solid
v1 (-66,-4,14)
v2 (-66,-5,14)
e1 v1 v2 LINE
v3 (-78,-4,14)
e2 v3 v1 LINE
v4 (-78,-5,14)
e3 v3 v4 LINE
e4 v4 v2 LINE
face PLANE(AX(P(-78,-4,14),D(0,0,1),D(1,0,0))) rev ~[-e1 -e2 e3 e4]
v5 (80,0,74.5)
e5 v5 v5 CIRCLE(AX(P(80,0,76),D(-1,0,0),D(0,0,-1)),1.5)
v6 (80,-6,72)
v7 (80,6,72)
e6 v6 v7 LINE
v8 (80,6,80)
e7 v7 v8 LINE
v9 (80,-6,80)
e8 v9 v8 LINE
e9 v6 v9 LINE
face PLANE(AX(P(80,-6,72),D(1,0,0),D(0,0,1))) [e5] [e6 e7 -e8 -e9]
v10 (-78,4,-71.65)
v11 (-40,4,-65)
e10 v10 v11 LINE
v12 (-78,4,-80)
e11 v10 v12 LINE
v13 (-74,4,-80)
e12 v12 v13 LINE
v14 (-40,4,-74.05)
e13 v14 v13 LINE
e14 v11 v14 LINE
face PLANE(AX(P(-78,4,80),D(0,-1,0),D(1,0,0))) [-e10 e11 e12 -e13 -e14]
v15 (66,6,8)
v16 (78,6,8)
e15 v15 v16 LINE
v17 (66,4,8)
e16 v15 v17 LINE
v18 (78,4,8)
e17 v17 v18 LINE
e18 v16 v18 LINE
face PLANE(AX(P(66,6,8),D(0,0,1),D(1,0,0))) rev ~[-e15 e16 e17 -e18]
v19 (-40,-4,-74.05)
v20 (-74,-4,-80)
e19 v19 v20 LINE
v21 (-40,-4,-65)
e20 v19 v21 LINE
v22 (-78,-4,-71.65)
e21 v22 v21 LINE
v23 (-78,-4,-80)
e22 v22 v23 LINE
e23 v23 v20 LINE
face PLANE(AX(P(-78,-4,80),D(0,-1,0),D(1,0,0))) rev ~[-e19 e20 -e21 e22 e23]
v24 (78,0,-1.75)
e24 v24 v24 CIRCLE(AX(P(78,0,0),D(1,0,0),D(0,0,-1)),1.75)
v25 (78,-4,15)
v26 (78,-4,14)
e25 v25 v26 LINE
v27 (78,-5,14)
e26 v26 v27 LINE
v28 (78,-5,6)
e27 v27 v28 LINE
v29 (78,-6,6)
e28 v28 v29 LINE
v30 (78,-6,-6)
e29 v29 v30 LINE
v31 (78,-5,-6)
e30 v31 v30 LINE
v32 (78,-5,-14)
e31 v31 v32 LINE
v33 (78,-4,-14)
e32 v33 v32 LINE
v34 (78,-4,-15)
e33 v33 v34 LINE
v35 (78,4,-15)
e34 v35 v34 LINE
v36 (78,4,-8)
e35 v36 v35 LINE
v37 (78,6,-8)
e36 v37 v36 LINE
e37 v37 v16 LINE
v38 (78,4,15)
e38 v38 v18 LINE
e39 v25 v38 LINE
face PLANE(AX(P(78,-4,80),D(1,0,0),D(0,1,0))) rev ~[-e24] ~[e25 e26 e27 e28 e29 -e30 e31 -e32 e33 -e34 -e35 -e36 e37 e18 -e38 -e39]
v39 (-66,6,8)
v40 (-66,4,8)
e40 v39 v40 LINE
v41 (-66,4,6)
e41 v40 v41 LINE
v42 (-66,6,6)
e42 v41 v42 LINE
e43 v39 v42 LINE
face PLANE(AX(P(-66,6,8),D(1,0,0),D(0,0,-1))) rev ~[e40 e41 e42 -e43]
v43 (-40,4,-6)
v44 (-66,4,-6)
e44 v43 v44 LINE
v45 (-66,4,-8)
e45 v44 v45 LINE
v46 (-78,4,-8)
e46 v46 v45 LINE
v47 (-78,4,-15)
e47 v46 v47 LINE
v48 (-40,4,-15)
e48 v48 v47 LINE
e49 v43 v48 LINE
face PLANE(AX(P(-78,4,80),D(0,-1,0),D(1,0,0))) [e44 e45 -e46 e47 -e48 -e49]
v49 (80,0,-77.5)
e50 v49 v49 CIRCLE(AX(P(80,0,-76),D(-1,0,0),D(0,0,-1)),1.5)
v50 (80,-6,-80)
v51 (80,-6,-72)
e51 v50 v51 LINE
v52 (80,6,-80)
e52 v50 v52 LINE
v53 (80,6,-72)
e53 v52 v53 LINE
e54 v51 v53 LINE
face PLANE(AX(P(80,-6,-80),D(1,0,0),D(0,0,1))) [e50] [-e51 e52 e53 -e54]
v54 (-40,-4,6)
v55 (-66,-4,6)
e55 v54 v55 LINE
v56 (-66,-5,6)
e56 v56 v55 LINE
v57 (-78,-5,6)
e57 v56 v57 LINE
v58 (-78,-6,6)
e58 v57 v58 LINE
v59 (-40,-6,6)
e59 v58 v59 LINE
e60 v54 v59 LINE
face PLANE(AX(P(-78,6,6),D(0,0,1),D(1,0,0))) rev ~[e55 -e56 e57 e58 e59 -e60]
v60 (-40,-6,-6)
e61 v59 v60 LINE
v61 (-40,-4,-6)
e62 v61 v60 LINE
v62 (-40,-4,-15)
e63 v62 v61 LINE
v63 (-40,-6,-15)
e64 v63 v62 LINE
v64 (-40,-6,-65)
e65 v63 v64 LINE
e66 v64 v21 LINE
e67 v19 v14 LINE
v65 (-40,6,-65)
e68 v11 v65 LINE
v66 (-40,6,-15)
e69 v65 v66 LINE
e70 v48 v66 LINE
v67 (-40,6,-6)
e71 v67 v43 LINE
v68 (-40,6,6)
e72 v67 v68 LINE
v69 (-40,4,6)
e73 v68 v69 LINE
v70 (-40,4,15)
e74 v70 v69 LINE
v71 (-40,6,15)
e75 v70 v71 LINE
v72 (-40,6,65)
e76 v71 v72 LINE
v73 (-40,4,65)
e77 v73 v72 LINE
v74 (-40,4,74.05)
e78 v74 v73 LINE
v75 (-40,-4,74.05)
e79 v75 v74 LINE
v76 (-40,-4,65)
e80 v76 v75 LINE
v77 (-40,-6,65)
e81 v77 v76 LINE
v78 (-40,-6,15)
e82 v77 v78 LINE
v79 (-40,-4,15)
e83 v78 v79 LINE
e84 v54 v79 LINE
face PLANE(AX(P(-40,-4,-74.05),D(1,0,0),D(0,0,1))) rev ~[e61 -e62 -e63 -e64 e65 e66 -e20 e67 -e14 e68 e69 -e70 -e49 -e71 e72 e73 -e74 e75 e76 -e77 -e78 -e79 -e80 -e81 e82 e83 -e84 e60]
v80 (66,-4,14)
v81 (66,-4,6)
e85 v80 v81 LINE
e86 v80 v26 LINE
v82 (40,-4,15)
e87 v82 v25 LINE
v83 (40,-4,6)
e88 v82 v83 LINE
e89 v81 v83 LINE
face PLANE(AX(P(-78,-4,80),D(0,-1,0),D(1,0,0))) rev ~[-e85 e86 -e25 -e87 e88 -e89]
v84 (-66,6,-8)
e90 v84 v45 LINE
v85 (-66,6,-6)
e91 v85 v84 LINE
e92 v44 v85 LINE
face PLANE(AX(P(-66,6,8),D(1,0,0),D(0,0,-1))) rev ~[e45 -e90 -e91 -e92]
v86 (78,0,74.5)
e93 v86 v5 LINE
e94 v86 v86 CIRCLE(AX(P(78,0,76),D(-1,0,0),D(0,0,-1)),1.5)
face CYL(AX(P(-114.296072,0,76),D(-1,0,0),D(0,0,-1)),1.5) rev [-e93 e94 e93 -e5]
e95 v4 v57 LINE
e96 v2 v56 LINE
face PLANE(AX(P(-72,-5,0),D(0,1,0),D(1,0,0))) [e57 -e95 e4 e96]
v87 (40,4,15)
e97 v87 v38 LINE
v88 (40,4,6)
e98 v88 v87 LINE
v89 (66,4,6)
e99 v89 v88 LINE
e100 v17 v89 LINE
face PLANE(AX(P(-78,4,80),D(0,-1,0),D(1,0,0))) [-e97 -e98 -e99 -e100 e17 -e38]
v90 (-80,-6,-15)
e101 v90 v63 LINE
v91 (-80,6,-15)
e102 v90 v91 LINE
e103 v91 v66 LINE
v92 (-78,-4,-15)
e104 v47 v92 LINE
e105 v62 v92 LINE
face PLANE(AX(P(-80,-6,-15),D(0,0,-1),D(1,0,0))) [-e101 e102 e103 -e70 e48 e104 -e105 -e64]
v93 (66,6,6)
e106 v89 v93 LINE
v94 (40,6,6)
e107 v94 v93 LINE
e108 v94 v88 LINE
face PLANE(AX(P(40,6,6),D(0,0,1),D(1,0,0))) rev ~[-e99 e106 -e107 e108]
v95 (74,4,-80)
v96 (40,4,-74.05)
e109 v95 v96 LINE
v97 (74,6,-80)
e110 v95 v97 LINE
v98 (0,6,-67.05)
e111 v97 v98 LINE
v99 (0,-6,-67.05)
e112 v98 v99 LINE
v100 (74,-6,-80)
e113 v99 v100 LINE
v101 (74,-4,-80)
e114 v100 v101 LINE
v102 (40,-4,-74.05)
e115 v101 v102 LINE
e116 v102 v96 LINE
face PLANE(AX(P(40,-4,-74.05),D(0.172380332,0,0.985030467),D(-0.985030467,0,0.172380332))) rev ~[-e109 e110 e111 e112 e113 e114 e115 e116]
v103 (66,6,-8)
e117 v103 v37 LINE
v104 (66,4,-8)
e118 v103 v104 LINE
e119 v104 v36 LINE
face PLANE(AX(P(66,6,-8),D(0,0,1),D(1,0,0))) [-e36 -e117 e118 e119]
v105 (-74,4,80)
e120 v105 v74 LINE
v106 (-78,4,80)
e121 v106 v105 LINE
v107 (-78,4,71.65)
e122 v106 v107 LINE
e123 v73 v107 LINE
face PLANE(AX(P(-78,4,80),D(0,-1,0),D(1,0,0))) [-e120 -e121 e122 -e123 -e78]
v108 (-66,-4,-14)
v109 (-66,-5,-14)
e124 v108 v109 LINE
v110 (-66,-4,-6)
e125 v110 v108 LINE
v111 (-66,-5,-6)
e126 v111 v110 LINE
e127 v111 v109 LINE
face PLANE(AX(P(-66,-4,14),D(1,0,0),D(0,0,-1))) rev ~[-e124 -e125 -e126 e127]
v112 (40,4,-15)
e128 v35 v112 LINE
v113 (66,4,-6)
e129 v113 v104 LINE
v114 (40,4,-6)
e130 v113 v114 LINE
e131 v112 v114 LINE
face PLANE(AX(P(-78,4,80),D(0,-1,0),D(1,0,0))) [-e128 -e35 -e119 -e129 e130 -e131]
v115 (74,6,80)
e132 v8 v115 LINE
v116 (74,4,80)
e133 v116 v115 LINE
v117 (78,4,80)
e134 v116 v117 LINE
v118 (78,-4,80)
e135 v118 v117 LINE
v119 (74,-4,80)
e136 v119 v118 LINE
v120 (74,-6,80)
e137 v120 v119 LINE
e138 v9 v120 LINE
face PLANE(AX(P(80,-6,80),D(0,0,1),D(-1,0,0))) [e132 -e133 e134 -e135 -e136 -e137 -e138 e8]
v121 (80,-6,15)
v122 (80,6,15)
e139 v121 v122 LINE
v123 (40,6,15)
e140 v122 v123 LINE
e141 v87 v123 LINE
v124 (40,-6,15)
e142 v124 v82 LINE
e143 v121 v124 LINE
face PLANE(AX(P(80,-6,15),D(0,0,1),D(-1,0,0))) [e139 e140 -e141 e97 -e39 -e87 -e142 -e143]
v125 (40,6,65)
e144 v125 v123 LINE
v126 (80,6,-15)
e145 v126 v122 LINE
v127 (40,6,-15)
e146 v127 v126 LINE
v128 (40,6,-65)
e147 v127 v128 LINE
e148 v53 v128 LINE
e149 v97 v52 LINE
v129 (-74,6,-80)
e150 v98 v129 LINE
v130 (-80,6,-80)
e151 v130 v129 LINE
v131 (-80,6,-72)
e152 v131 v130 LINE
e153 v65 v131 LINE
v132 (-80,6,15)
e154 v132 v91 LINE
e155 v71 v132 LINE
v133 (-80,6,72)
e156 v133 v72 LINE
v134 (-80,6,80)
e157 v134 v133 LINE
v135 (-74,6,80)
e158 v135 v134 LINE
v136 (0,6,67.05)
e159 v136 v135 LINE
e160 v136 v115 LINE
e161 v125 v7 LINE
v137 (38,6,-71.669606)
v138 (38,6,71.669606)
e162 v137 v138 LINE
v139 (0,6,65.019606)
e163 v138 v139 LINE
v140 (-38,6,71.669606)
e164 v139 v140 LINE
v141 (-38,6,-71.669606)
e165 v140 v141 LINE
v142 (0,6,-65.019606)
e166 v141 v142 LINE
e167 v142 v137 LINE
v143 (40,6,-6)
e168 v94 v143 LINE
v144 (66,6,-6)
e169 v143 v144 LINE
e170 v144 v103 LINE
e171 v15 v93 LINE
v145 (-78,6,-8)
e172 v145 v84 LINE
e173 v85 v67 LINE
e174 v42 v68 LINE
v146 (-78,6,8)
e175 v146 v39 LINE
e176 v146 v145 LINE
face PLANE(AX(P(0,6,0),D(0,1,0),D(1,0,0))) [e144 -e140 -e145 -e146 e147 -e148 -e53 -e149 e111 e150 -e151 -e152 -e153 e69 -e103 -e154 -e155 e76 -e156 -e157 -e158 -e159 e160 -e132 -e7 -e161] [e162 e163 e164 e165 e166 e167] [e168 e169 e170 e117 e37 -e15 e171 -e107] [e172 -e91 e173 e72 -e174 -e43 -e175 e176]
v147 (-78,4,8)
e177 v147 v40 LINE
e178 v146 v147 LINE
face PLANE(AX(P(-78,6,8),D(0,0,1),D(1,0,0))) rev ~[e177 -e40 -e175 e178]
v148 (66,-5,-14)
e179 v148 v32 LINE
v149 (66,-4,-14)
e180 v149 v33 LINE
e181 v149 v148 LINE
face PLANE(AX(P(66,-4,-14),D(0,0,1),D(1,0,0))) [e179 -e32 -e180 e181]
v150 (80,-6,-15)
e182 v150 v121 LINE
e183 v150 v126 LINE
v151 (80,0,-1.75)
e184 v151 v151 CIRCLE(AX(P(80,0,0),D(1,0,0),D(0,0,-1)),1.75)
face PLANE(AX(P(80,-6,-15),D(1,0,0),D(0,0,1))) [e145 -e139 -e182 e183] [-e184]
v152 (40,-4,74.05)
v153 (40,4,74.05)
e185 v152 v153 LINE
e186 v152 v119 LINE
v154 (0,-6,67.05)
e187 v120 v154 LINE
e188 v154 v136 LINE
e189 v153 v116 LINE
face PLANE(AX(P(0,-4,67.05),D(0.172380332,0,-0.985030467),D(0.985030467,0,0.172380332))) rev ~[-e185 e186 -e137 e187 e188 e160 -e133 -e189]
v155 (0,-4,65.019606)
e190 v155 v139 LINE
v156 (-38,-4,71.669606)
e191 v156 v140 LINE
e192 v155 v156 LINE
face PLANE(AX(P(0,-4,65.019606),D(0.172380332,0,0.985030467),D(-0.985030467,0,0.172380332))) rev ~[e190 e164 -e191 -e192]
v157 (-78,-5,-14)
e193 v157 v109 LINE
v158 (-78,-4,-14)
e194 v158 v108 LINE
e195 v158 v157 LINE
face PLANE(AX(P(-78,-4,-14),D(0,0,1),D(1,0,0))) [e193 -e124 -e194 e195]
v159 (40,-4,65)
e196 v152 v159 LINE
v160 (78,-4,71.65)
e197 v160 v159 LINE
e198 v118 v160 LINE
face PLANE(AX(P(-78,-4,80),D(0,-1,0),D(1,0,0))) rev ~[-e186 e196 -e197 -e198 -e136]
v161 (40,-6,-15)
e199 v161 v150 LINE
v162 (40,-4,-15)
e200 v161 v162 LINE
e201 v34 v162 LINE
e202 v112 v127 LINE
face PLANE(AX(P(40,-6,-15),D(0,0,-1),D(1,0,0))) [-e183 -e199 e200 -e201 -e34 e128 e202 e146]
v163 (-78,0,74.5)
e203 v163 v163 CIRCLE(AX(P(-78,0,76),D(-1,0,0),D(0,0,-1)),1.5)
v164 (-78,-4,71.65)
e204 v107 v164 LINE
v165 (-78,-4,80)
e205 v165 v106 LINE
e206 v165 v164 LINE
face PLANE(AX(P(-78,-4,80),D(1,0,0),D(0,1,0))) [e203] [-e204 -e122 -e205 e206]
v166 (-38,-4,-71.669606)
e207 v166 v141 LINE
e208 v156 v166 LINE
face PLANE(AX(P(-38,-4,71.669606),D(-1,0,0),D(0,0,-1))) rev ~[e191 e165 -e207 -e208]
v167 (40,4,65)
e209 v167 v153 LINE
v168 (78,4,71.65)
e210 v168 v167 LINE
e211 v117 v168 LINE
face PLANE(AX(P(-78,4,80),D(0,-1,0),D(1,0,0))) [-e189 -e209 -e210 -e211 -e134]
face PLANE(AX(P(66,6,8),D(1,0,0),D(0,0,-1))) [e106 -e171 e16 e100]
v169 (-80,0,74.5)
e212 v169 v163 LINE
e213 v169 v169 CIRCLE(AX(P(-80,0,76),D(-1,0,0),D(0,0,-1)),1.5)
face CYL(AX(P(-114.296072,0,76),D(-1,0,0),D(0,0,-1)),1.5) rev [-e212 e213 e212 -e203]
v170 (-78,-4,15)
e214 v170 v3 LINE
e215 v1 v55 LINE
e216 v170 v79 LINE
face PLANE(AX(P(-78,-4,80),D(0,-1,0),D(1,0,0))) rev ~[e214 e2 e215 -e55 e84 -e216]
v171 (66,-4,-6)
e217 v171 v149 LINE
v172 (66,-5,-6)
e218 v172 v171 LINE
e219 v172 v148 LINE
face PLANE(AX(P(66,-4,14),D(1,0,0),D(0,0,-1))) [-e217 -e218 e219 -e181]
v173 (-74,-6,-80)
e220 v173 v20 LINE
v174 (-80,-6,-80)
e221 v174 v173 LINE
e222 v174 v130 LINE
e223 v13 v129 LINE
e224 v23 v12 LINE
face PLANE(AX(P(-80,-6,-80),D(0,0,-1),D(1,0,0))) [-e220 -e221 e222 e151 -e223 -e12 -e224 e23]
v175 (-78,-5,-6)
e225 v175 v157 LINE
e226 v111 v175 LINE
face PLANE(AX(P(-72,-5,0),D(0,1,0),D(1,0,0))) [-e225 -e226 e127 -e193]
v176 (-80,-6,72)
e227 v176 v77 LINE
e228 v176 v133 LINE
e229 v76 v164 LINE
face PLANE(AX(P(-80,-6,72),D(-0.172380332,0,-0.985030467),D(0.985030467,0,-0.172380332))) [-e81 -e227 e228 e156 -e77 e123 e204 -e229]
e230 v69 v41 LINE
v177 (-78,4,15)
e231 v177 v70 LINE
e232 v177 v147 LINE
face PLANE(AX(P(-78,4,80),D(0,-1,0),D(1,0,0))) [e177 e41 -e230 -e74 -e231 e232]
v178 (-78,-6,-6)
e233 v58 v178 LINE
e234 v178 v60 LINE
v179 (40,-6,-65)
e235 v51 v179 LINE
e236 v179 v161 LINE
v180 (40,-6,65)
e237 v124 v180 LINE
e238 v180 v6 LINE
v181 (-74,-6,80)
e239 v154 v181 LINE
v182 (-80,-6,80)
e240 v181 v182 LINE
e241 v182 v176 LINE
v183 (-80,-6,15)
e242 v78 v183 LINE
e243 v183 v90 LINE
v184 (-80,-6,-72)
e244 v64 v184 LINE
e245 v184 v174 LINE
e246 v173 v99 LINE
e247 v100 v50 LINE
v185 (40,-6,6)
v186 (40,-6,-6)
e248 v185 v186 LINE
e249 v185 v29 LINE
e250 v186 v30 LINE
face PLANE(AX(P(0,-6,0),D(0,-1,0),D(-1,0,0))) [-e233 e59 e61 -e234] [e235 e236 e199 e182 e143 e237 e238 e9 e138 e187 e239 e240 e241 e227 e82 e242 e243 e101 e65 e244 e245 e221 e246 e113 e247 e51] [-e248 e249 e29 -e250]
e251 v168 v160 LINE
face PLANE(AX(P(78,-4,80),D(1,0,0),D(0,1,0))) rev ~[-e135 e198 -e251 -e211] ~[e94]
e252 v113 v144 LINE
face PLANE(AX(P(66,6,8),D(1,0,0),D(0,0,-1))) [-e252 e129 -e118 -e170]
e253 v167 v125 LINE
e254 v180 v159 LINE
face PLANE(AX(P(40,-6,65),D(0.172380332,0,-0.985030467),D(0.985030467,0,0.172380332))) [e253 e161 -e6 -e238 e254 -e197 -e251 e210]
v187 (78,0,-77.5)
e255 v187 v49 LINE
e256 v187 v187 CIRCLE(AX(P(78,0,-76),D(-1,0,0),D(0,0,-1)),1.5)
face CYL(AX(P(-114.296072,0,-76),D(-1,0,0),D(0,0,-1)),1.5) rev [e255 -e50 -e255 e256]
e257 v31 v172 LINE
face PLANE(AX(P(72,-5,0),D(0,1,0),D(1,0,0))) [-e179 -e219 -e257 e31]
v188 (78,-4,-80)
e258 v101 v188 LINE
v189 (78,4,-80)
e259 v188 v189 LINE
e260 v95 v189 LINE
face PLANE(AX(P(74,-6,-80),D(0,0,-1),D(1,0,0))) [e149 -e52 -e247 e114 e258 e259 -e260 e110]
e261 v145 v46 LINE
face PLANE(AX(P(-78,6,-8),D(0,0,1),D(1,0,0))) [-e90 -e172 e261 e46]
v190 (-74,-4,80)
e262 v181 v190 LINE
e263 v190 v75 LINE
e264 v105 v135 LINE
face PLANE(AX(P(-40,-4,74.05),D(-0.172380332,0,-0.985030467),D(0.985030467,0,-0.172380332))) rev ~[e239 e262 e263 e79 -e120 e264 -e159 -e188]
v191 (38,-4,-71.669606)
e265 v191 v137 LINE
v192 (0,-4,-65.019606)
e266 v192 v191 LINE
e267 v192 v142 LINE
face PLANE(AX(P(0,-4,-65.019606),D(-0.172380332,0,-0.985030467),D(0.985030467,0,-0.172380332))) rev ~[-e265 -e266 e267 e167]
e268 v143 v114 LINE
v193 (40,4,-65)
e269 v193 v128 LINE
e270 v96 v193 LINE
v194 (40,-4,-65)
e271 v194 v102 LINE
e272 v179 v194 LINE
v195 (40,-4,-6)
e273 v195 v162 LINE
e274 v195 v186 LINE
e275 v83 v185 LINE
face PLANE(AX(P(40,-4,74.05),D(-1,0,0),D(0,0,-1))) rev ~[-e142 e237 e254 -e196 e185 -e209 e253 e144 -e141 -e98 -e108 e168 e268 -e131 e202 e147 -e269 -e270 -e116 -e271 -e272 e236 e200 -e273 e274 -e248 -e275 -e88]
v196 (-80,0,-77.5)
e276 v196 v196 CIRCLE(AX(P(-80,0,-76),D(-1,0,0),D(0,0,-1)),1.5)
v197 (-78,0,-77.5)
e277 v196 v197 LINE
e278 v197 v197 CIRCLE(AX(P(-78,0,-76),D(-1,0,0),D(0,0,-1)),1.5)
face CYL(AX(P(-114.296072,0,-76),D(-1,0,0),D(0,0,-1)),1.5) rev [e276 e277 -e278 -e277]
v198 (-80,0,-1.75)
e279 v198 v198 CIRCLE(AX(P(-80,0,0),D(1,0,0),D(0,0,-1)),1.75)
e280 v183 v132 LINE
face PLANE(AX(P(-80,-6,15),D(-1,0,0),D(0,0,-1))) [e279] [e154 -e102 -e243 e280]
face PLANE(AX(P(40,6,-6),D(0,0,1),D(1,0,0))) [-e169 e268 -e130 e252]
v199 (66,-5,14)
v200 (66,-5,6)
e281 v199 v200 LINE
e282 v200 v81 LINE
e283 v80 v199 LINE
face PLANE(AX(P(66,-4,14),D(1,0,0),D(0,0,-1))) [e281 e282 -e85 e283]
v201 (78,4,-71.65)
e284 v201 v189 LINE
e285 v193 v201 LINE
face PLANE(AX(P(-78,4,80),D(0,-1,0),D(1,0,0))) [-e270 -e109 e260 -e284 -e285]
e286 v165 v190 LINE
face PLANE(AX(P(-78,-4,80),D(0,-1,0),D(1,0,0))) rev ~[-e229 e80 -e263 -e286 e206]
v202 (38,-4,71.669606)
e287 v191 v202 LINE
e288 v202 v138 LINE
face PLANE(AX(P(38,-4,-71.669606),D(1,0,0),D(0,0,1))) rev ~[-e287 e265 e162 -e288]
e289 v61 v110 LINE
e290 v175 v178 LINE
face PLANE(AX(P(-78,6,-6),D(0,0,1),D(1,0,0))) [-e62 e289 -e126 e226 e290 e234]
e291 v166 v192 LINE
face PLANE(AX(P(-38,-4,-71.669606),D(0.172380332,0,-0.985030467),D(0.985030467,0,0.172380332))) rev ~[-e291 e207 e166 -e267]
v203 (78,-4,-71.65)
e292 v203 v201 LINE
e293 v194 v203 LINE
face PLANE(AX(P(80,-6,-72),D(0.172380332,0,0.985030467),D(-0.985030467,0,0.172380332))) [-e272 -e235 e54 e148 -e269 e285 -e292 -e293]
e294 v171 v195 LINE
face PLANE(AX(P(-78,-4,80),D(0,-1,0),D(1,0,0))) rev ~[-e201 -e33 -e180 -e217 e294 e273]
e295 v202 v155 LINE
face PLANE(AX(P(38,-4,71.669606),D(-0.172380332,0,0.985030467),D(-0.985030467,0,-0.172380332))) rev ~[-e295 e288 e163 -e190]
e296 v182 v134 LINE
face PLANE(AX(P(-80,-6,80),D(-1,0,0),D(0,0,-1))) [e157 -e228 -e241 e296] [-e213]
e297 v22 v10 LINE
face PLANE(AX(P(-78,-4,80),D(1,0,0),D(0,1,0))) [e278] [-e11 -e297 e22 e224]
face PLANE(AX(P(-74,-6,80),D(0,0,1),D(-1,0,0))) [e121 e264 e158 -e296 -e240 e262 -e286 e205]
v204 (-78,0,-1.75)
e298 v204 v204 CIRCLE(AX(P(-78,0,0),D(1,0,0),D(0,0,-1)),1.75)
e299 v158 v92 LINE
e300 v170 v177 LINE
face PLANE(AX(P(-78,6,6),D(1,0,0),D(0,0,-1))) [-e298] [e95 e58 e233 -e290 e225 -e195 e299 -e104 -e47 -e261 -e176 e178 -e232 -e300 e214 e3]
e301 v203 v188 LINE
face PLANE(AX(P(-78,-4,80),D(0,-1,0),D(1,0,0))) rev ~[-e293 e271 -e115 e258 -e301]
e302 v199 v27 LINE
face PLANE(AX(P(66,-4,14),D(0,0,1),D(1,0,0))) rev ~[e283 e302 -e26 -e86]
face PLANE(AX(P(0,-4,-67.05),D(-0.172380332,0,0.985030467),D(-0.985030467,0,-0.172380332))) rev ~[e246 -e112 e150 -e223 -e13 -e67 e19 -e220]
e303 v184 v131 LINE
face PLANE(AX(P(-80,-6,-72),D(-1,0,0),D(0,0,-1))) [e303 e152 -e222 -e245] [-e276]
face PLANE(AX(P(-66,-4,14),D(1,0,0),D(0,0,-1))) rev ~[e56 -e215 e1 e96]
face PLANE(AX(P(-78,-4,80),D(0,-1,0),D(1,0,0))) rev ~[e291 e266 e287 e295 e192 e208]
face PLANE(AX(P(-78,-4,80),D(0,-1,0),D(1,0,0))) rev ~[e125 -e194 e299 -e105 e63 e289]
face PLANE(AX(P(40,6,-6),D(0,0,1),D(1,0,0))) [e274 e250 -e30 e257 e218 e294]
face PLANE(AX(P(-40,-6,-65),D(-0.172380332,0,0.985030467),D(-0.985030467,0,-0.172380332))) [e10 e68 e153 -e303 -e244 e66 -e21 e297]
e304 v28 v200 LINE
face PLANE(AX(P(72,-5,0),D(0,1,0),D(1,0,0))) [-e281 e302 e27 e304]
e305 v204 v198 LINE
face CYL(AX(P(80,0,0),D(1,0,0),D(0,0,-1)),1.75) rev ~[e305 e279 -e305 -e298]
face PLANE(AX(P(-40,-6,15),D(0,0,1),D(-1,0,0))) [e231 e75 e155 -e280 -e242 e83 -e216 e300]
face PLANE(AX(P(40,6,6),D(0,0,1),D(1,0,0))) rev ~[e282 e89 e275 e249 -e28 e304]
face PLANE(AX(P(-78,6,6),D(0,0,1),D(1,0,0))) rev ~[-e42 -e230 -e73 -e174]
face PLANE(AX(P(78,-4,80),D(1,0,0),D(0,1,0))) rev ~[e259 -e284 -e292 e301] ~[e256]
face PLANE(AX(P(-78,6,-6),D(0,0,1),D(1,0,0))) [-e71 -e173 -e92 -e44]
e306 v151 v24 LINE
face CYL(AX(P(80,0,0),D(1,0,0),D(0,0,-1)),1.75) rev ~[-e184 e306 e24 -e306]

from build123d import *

# Parameters (mm, degrees)
BOSS_EXTRUDE1_DEPTH      = 6
BOSS_EXTRUDE1_DEPTH_BACK = 6
SKETCH2_W                = 156
SKETCH2_H                = 8
CUT_EXTRUDE1_DEPTH       = 160
SKETCH4_W                = 38
SKETCH4_H                = 12
CUT_EXTRUDE2_DEPTH       = 12
CUT_EXTRUDE3_DEPTH       = 114.296072306
CUT_EXTRUDE3_DEPTH_BACK  = 114.296072306
SKETCH6_R                = 1.5
CUT_EXTRUDE4_REACH       = 180.986
SKETCH7_R                = 1.75
SKETCH8_W                = 12
SKETCH8_H                = 16
CUT_EXTRUDE5_DEPTH       = 2
SKETCH9_W                = 12
SKETCH9_H                = 28
CUT_EXTRUDE6_DEPTH       = 1
CUT_EXTRUDE7_DEPTH       = 2
BOSS_EXTRUDE2_DEPTH      = 10


with BuildPart() as part:
    # Sketch1 → Boss-Extrude1 (new, two sides: drawn at the far end of the back side and taken through both)
    with BuildSketch(Plane(origin=(0, 0, 0), x_dir=(1, 0, 0), z_dir=(0, 1, 0)).offset(-BOSS_EXTRUDE1_DEPTH_BACK)):
        Polygon((80, 15), (80, -15), (40, -15), (40, -65), (80, -72), (80, -80), (74, -80), (0, -67.05), (-74, -80), (-80, -80), (-80, -72), (-40, -65), (-40, -15), (-80, -15), (-80, 15), (-40, 15), (-40, 65), (-80, 72), (-80, 80), (-74, 80), (0, 67.05), (74, 80), (80, 80), (80, 72), (40, 65), (40, 15), align=None)
    extrude(amount=BOSS_EXTRUDE1_DEPTH + BOSS_EXTRUDE1_DEPTH_BACK)

    # Sketch2 → Cut-Extrude1 (cut)
    with BuildSketch(Plane.XY.offset(80)):
        Rectangle(SKETCH2_W, SKETCH2_H)
    extrude(amount=-CUT_EXTRUDE1_DEPTH, mode=Mode.SUBTRACT)

    # Sketch4 → Cut-Extrude2 (cut)
    with BuildSketch(Plane(origin=(0, 6, 0), x_dir=(1, 0, 0), z_dir=(0, 1, 0))):
        with Locations((-59, 0)):
            Rectangle(SKETCH4_W, SKETCH4_H)
        with Locations((59, 0)):
            Rectangle(SKETCH4_W, SKETCH4_H)
    extrude(amount=-CUT_EXTRUDE2_DEPTH, mode=Mode.SUBTRACT)

    # Sketch6 → Cut-Extrude3 (cut, two sides: drawn at the far end of the back side and taken through both)
    with BuildSketch(Plane(origin=(0, 0, 0), x_dir=(0, 0, -1), z_dir=(1, 0, 0)).offset(-CUT_EXTRUDE3_DEPTH_BACK)):
        with Locations((-76, 0)):
            Circle(SKETCH6_R)
        with Locations((76, 0)):
            Circle(SKETCH6_R)
    extrude(amount=CUT_EXTRUDE3_DEPTH + CUT_EXTRUDE3_DEPTH_BACK, mode=Mode.SUBTRACT)

    # Cut-Extrude4: up to this face of the body (flat: up to its plane)
    cut_extrude4_end = Plane(part.part.faces().sort_by_distance((-80, 0, 0))[0])
    # Sketch7 → Cut-Extrude4 (cut, up to the picked face)
    with BuildSketch(Plane(origin=(80, 0, 0), x_dir=(0, 0, -1), z_dir=(1, 0, 0)), mode=Mode.PRIVATE) as cut_extrude4_sk1:
        Circle(SKETCH7_R)
    cut_extrude4_tool1 = split(extrude(cut_extrude4_sk1.sketch, amount=-CUT_EXTRUDE4_REACH, mode=Mode.PRIVATE), bisect_by=cut_extrude4_end, keep=Keep.BOTH, mode=Mode.PRIVATE)
    add(cut_extrude4_tool1.solids().sort_by(Axis((80, 0, 0), (-1, 0, 0)))[0], mode=Mode.SUBTRACT)

    # Sketch8 → Cut-Extrude5 (cut)
    with BuildSketch(Plane(origin=(0, 6, 0), x_dir=(1, 0, 0), z_dir=(0, 1, 0))):
        with Locations((72, 0)):
            Rectangle(SKETCH8_W, SKETCH8_H)
        with Locations((-72, 0)):
            Rectangle(SKETCH8_W, SKETCH8_H)
    extrude(amount=-CUT_EXTRUDE5_DEPTH, mode=Mode.SUBTRACT)

    # Sketch9 → Cut-Extrude6 (cut)
    with BuildSketch(Plane(origin=(0, -4, 0), x_dir=(1, 0, 0), z_dir=(0, 1, 0))):
        with Locations((72, 0)):
            Rectangle(SKETCH9_W, SKETCH9_H)
        with Locations((-72, 0)):
            Rectangle(SKETCH9_W, SKETCH9_H)
    extrude(amount=-CUT_EXTRUDE6_DEPTH, mode=Mode.SUBTRACT)

    # Sketch11 → Cut-Extrude7 (cut)
    with BuildSketch(Plane(origin=(0, 6, 0), x_dir=(1, 0, 0), z_dir=(0, 1, 0))):
        Polygon((-40, -74.05), (-40, 74.05), (0, 67.05), (40, 74.05), (40, -74.05), (0, -67.05), align=None)
    extrude(amount=-CUT_EXTRUDE7_DEPTH, mode=Mode.SUBTRACT)

    # Sketch12 → Boss-Extrude2 (add)
    with BuildSketch(Plane(origin=(0, -4, 0), x_dir=(1, 0, 0), z_dir=(0, 1, 0))):
        Polygon((-40, 74.05), (-40, -74.05), (0, -67.05), (40, -74.05), (40, 74.05), (0, 67.05), align=None)
        Polygon((0, 65.01960595), (38, 71.66960595), (38, -71.66960595), (0, -65.01960595), (-38, -71.66960595), (-38, 71.66960595), align=None, mode=Mode.SUBTRACT)
    extrude(amount=BOSS_EXTRUDE2_DEPTH)


solid = part.part
